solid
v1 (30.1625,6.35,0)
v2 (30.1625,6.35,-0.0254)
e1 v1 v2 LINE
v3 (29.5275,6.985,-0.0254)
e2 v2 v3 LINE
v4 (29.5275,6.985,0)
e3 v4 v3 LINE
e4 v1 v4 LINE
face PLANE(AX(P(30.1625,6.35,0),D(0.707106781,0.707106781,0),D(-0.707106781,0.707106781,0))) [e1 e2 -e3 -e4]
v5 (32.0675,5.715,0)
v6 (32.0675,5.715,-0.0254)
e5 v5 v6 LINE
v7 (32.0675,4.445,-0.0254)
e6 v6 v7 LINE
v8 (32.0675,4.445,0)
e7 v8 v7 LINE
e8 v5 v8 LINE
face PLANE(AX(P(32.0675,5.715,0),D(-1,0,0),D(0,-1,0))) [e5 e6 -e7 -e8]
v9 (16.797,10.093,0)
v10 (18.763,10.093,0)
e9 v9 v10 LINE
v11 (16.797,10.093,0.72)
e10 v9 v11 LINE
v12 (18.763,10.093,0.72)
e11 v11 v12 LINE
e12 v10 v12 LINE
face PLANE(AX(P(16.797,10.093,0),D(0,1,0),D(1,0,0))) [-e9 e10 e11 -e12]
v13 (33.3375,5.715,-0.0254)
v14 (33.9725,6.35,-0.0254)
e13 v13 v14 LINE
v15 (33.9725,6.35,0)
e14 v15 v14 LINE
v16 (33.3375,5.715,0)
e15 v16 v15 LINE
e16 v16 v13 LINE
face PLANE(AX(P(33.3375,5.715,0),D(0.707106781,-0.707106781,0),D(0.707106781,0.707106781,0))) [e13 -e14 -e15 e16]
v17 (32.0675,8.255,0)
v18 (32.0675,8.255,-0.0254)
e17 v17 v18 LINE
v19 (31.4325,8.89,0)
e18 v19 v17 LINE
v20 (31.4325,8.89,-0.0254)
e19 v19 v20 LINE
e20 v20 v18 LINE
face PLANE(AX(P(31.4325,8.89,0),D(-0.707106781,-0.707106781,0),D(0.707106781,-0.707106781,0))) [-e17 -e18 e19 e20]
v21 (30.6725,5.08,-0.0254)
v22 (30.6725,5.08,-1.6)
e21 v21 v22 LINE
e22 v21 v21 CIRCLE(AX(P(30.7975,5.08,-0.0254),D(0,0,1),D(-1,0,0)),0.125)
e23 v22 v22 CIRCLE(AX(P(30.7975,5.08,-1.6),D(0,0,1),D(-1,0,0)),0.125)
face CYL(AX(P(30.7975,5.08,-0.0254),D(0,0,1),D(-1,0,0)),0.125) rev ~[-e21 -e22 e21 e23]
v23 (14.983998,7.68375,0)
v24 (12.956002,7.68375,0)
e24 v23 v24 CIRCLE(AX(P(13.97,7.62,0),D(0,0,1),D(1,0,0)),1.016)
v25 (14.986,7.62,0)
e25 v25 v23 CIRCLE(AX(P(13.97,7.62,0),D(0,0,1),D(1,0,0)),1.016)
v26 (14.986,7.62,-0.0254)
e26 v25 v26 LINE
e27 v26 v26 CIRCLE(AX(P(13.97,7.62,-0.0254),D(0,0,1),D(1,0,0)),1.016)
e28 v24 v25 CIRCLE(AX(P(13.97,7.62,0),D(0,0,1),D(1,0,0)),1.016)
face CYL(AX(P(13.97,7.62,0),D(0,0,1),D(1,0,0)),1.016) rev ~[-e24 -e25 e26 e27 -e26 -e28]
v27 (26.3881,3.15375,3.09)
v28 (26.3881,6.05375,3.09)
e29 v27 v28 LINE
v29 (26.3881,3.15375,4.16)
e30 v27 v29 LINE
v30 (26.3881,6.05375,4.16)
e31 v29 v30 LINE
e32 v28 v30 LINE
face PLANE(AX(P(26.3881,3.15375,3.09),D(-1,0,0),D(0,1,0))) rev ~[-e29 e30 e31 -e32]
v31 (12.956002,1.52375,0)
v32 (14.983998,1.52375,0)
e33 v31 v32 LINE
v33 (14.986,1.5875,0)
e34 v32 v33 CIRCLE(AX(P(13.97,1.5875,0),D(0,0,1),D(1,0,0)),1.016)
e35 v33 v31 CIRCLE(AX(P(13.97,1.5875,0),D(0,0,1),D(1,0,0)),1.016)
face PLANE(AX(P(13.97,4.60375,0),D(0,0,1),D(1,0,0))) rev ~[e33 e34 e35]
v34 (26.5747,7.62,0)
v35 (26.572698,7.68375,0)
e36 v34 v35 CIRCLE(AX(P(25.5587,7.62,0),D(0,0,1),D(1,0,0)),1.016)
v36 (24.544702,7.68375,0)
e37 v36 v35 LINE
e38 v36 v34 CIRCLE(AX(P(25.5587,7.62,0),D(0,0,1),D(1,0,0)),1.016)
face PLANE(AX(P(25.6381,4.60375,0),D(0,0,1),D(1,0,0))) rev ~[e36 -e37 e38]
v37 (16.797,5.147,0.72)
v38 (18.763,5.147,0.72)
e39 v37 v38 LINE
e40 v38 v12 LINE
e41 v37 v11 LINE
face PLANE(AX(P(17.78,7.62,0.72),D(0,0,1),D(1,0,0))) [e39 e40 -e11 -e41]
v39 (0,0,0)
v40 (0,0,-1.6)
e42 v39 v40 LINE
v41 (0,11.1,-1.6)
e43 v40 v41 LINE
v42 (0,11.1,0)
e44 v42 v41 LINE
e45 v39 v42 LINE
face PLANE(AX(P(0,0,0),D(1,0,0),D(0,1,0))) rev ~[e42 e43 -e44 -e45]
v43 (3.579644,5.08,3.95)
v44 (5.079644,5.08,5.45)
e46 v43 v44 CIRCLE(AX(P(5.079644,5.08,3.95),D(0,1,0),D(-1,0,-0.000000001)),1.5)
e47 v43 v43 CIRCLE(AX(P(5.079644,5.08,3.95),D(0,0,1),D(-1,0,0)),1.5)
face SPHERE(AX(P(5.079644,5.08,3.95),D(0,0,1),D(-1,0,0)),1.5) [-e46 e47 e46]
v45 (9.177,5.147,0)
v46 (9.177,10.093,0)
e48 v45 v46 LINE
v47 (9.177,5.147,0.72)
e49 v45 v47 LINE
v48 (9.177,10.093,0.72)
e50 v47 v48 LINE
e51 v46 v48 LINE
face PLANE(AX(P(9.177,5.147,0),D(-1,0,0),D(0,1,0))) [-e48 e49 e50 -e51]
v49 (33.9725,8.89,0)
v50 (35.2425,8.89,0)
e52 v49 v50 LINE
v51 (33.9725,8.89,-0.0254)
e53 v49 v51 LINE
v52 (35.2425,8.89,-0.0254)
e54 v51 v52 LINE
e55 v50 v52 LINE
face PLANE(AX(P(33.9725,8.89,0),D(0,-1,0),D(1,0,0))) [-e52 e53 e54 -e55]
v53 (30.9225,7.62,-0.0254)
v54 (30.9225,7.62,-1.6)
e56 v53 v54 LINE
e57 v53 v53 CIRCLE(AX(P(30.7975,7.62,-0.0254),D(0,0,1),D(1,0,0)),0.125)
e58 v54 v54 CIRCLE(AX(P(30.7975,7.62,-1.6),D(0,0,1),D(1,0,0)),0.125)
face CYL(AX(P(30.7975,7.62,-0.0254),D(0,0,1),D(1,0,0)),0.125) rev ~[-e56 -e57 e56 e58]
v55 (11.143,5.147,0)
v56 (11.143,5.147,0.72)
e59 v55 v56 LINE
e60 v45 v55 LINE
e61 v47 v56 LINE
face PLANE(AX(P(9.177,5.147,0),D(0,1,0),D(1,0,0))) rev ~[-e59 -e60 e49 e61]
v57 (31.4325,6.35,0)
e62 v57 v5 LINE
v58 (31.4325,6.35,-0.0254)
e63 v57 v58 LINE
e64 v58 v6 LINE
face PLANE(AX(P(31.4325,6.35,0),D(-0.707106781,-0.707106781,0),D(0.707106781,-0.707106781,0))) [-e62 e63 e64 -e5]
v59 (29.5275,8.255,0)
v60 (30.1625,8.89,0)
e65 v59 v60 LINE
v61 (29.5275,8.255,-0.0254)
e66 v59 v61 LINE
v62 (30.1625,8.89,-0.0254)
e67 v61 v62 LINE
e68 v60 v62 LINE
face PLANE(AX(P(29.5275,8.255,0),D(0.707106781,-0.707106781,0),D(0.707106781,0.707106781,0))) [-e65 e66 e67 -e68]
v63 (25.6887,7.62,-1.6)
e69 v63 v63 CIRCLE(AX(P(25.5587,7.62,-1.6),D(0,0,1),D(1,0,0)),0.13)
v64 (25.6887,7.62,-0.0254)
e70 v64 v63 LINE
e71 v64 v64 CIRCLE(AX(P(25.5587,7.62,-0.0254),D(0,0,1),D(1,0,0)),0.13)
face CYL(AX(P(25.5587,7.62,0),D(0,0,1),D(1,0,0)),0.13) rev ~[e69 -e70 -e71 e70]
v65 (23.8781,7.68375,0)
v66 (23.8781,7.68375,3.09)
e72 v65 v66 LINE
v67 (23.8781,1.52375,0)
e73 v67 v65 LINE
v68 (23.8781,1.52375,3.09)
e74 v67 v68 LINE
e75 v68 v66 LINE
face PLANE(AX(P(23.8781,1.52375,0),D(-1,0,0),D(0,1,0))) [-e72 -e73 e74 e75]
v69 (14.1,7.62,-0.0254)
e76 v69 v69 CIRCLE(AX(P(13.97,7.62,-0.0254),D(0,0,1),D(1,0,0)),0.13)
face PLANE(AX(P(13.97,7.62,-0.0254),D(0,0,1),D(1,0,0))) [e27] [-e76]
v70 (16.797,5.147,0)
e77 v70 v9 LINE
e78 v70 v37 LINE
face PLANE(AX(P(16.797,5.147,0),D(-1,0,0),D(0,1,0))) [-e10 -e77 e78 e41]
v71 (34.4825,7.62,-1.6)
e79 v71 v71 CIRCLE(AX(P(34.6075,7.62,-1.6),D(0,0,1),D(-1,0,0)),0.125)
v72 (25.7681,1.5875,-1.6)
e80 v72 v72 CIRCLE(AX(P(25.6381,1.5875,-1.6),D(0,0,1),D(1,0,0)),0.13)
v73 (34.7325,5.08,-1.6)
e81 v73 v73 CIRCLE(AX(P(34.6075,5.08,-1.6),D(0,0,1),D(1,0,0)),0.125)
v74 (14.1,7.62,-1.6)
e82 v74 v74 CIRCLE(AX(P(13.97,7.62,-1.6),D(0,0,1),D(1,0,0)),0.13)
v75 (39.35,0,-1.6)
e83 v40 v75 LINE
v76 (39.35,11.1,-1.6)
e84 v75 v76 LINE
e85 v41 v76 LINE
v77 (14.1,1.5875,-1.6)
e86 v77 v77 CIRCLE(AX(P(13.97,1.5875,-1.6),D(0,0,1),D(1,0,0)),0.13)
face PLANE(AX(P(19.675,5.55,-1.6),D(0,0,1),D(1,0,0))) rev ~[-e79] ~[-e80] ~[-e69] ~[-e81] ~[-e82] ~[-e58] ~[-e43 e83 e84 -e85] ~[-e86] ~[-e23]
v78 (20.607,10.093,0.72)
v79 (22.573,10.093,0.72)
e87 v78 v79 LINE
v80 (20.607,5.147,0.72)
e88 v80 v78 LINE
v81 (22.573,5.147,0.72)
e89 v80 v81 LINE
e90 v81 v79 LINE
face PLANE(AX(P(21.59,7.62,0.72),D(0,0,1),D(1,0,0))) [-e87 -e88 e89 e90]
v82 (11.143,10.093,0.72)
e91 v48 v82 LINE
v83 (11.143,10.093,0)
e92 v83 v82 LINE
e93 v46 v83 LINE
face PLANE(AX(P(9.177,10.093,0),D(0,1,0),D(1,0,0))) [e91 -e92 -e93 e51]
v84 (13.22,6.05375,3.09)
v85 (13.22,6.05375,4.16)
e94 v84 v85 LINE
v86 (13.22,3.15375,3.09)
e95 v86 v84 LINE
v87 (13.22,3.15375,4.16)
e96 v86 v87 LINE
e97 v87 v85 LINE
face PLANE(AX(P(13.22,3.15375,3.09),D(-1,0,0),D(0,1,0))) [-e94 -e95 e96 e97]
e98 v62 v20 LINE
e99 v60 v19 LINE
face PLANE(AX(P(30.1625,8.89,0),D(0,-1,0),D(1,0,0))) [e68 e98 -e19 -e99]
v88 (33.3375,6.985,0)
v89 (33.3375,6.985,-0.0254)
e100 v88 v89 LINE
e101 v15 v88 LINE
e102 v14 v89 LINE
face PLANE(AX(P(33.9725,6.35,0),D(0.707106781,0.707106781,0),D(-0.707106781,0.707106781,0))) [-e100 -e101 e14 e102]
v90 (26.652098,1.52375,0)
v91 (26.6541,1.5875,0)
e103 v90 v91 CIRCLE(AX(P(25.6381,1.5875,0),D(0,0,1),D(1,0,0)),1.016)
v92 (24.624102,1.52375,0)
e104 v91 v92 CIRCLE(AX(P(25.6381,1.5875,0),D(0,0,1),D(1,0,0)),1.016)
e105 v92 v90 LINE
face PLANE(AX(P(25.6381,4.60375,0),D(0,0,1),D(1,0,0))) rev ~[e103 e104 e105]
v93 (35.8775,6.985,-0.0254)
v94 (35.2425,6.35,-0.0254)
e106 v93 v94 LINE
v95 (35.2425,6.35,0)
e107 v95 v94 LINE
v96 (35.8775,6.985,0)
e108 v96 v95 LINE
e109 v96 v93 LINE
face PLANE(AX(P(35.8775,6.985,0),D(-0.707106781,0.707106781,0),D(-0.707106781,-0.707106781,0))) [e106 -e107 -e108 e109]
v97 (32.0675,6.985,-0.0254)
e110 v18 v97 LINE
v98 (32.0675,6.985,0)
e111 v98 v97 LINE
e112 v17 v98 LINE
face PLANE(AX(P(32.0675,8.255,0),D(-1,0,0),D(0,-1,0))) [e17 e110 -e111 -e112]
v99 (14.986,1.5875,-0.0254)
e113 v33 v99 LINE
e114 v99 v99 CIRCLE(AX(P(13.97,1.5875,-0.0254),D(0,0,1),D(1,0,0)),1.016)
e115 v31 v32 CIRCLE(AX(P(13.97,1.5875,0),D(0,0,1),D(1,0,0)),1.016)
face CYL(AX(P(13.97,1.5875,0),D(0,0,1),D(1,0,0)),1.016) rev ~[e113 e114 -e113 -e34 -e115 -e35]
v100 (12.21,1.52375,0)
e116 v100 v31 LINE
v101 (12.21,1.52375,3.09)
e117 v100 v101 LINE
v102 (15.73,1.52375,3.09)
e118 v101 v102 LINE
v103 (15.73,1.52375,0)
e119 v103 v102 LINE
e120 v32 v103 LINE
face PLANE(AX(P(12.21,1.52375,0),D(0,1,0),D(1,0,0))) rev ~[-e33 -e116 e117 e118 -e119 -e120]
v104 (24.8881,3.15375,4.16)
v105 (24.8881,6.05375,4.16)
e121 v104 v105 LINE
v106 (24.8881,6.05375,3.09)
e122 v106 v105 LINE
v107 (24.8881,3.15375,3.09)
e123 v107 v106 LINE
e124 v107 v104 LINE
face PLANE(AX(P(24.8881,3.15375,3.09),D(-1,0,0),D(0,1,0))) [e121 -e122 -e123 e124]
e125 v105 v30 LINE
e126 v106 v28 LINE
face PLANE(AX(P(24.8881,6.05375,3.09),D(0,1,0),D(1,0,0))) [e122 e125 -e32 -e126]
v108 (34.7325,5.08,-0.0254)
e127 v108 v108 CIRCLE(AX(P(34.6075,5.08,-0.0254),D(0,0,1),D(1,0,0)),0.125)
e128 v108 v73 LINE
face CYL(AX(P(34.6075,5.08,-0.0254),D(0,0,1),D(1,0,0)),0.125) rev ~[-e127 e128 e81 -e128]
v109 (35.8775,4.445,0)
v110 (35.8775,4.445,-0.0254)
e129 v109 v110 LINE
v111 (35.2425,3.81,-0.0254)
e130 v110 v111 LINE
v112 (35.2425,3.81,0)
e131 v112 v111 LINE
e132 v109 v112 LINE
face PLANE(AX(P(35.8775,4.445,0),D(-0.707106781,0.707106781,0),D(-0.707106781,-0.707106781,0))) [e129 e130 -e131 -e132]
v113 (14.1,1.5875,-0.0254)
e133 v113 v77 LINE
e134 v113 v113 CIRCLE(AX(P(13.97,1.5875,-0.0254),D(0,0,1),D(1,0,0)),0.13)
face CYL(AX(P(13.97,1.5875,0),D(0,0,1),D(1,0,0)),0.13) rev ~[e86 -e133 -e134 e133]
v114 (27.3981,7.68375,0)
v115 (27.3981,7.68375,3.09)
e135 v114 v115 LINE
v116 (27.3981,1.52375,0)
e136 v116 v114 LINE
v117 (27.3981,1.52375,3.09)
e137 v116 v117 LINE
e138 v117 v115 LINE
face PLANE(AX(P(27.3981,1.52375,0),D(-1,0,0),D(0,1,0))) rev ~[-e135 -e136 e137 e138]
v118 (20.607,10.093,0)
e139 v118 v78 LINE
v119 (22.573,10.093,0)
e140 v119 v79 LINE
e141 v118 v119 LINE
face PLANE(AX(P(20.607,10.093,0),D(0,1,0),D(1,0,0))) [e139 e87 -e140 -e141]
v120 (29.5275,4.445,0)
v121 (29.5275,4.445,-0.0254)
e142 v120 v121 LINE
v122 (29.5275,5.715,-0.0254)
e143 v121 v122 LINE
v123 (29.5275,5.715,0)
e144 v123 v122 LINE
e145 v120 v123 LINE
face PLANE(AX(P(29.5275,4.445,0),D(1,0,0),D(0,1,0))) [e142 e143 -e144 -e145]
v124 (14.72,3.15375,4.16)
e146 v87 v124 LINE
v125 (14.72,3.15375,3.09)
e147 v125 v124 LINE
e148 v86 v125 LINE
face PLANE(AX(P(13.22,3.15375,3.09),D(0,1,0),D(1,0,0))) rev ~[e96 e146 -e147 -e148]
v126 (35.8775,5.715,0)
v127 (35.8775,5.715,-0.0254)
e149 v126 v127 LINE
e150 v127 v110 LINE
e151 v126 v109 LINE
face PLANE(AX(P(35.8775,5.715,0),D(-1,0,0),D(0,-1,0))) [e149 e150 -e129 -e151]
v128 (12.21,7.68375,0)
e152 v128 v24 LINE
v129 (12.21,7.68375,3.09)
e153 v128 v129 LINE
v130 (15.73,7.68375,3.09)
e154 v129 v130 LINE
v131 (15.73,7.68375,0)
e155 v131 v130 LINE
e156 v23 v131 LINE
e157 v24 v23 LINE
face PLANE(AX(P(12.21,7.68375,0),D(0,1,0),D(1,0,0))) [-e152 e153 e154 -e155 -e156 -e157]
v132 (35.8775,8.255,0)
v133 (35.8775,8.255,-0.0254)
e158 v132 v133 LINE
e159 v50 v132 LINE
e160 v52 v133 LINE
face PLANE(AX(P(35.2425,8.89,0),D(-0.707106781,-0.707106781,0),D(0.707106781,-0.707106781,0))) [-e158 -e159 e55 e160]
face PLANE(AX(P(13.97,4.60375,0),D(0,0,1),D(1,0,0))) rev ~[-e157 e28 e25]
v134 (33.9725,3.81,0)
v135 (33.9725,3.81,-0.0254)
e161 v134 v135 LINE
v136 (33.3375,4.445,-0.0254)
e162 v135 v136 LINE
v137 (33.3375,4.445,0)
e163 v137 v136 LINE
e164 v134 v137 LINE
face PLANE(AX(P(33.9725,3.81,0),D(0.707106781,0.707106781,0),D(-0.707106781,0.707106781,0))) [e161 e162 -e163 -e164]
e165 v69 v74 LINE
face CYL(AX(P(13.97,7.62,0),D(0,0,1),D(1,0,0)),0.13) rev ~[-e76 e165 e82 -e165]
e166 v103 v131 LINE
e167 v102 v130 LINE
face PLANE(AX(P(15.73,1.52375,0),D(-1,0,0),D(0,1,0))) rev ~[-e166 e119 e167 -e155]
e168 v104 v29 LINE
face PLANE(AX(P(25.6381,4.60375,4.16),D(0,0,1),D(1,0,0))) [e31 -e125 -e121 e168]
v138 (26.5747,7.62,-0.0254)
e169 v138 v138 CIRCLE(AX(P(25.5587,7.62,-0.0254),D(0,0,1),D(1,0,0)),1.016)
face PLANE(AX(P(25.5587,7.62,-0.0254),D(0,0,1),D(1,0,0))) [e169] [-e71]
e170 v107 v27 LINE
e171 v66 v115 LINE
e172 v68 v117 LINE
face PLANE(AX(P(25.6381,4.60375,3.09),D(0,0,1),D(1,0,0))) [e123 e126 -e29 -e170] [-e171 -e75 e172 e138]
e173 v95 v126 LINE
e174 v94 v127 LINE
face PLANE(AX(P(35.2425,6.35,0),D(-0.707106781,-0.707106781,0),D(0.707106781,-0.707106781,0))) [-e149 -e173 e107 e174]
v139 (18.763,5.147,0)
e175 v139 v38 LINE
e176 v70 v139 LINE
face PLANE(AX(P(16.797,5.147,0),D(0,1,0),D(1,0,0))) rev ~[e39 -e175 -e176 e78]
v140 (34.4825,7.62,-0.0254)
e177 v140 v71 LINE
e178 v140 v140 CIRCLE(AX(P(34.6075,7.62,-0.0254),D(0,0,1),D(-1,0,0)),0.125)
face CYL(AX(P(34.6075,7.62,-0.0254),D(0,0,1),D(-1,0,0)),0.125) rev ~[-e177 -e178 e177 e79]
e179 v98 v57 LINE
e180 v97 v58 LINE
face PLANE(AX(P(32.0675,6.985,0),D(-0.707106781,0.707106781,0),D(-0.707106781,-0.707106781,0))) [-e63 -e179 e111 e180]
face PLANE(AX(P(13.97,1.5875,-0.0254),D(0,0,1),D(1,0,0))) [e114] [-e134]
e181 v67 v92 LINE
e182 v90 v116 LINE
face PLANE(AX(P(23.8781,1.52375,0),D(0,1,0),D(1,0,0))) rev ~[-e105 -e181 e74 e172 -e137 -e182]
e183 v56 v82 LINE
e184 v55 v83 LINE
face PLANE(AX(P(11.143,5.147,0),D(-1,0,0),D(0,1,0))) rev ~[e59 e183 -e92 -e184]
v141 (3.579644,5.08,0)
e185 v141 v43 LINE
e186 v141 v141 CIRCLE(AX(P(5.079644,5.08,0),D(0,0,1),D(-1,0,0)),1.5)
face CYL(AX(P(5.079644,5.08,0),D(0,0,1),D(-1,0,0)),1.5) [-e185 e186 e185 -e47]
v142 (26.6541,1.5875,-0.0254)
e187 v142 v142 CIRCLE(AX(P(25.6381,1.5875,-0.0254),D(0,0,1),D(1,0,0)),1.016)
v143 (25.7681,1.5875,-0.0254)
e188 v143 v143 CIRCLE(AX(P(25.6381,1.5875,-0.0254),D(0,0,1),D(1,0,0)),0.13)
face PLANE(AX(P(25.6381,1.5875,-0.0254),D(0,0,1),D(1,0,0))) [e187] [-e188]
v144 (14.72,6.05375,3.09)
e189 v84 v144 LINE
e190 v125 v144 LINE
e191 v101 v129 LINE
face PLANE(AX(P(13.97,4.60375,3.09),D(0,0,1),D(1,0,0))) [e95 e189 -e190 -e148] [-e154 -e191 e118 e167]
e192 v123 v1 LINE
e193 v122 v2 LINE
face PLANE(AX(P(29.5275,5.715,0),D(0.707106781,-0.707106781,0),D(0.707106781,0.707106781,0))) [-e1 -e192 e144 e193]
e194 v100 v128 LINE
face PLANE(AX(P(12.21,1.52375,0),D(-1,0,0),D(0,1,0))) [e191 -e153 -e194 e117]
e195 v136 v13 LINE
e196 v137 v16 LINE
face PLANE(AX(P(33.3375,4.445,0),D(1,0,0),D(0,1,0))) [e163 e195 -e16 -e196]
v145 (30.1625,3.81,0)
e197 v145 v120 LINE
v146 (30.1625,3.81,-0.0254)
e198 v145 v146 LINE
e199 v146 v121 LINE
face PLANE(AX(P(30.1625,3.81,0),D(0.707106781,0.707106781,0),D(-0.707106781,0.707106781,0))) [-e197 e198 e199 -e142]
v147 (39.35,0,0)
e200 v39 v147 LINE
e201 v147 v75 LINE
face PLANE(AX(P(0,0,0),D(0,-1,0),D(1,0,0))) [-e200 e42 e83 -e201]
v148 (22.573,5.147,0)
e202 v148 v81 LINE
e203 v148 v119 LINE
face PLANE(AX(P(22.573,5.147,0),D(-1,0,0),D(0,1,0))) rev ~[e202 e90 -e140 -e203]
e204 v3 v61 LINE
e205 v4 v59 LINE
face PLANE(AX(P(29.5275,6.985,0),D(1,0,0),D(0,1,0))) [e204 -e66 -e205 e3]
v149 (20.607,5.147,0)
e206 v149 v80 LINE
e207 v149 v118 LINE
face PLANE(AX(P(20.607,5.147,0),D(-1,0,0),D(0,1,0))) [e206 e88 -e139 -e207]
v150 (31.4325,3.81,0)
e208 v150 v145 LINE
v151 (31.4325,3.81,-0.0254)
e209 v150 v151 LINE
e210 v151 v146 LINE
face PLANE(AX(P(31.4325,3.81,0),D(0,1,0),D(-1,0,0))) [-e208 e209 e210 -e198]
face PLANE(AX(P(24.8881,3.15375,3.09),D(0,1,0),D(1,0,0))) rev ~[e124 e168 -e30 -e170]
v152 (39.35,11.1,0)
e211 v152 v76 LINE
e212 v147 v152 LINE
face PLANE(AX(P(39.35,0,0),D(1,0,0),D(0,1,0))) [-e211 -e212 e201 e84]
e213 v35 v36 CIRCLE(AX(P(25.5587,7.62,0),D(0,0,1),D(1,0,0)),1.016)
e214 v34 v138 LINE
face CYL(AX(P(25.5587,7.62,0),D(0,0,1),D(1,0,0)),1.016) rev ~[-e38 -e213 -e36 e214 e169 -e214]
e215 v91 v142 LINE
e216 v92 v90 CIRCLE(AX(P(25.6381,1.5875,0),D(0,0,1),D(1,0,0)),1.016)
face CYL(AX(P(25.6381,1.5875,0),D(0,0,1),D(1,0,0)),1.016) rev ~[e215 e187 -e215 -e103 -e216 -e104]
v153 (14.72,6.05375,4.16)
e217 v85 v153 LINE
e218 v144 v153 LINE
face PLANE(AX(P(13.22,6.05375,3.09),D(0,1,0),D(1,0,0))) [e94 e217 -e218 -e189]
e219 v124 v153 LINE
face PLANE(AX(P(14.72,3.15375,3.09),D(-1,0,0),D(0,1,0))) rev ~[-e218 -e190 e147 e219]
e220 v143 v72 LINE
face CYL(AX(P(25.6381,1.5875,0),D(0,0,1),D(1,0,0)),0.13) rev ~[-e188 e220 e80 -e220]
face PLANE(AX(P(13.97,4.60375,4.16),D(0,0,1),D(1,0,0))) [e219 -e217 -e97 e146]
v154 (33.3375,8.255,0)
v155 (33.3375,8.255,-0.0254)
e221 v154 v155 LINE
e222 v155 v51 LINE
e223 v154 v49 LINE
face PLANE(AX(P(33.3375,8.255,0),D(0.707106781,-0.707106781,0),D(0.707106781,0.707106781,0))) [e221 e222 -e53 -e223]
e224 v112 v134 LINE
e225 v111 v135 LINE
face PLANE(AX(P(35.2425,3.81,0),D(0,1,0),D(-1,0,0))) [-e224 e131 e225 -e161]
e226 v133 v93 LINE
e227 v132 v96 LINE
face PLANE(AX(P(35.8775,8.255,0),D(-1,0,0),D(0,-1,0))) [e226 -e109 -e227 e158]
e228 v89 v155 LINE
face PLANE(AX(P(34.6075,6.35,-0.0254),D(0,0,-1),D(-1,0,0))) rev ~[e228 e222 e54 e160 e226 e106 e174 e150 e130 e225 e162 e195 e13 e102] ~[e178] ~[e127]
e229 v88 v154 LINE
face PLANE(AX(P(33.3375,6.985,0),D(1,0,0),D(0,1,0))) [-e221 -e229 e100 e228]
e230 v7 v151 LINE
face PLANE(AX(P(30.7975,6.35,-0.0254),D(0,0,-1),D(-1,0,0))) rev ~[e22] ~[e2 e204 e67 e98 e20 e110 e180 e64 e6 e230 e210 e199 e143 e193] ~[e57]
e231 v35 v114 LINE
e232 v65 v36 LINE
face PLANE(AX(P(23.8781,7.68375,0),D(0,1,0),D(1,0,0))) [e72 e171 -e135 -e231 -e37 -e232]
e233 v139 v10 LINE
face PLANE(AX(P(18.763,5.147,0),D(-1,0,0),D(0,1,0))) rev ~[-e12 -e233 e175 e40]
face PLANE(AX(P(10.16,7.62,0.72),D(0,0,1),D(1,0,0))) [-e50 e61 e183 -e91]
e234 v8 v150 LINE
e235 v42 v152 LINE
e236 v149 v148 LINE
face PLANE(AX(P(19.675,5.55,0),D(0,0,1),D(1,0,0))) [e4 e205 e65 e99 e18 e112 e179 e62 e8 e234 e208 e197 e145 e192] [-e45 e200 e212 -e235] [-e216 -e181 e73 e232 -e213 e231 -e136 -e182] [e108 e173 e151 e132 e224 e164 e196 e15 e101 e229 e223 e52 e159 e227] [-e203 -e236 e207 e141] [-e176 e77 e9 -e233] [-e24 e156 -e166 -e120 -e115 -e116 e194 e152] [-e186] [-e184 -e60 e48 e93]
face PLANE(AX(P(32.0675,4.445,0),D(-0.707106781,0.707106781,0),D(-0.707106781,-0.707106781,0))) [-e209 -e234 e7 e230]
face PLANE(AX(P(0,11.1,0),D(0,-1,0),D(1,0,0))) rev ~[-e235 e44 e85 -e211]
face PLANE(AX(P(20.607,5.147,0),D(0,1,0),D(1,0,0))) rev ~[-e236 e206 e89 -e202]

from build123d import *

# Parameters (mm, degrees)
SKETCH2_W           = 39.35
SKETCH2_H           = 11.1
BOSS_EXTRUDE1_DEPTH = 1.6
SKETCH3_W           = 1.966
SKETCH3_H           = 4.946
BOSS_EXTRUDE2_DEPTH = 0.72
SKETCH4_R           = 1.016
CUT_EXTRUDE1_DEPTH  = 0.0254
SKETCH4_3_R         = 0.13
CUT_EXTRUDE2_DEPTH  = 41.916897487
CUT_EXTRUDE3_DEPTH  = 0.0254
SKETCH6_R           = 0.125
CUT_EXTRUDE4_DEPTH  = 41.915912127
SKETCH8_W           = 3.52
SKETCH8_H           = 6.16
BOSS_EXTRUDE3_DEPTH = 3.09
SKETCH9_W           = 1.5
SKETCH9_H           = 2.9
BOSS_EXTRUDE4_DEPTH = 1.07
LPATTERN1_COUNT     = 2
LPATTERN1_PITCH     = 11.668100108


with BuildPart() as part:
    # Sketch2 → Boss-Extrude1 (new body)
    with BuildSketch(Plane.XY):
        with Locations((19.675, 5.55)):
            Rectangle(SKETCH2_W, SKETCH2_H)
    extrude(amount=-BOSS_EXTRUDE1_DEPTH)

    # Sketch3 → Boss-Extrude2 (add)
    with BuildSketch(Plane.XY):
        with Locations((10.16, 7.62)):
            Rectangle(SKETCH3_W, SKETCH3_H)
        with Locations((17.78, 7.62)):
            Rectangle(SKETCH3_W, SKETCH3_H)
        with Locations((21.59, 7.62)):
            Rectangle(SKETCH3_W, SKETCH3_H)
    extrude(amount=BOSS_EXTRUDE2_DEPTH)

    # Sketch4 → Cut-Extrude1 (cut)
    with BuildSketch(Plane.XY):
        with Locations((13.97, 1.5875)):
            Circle(SKETCH4_R)
        with Locations((13.97, 7.62)):
            Circle(SKETCH4_R)
        with Locations((25.5587, 7.62)):
            Circle(SKETCH4_R)
        with Locations((25.6381, 1.5875)):
            Circle(SKETCH4_R)
    extrude(amount=-CUT_EXTRUDE1_DEPTH, mode=Mode.SUBTRACT)

    # Sketch4<3> → Cut-Extrude2 (cut, through all)
    with BuildSketch(Plane.XY):
        with Locations((13.97, 1.5875)):
            Circle(SKETCH4_3_R)
        with Locations((13.97, 7.62)):
            Circle(SKETCH4_3_R)
        with Locations((25.5587, 7.62)):
            Circle(SKETCH4_3_R)
        with Locations((25.6381, 1.5875)):
            Circle(SKETCH4_3_R)
    extrude(amount=-CUT_EXTRUDE2_DEPTH, mode=Mode.SUBTRACT)

    # Sketch5 → Cut-Extrude3 (cut)
    with BuildSketch(Plane.XY):
        Polygon((29.5275, 6.985), (29.5275, 8.255), (30.1625, 8.89), (31.4325, 8.89), (32.0675, 8.255), (32.0675, 6.985), (31.4325, 6.35), (32.0675, 5.715), (32.0675, 4.445), (31.4325, 3.81), (30.1625, 3.81), (29.5275, 4.445), (29.5275, 5.715), (30.1625, 6.35), align=None)
        Polygon((33.3375, 4.445), (33.3375, 5.715), (33.9725, 6.35), (33.3375, 6.985), (33.3375, 8.255), (33.9725, 8.89), (35.2425, 8.89), (35.8775, 8.255), (35.8775, 6.985), (35.2425, 6.35), (35.8775, 5.715), (35.8775, 4.445), (35.2425, 3.81), (33.9725, 3.81), align=None)
    extrude(amount=-CUT_EXTRUDE3_DEPTH, mode=Mode.SUBTRACT)

    # Sketch6 → Cut-Extrude4 (cut, through all)
    with BuildSketch(Plane.XY.offset(-0.0254)):
        with Locations((30.7975, 7.62)):
            Circle(SKETCH6_R)
        with Locations((30.7975, 5.08)):
            Circle(SKETCH6_R)
        with Locations((34.6075, 5.08)):
            Circle(SKETCH6_R)
        with Locations((34.6075, 7.62)):
            Circle(SKETCH6_R)
    extrude(amount=-CUT_EXTRUDE4_DEPTH, mode=Mode.SUBTRACT)

    # Sketch8 → Boss-Extrude3 (add)
    with BuildSketch(Plane.XY):
        with Locations((13.97, 4.60375)):
            Rectangle(SKETCH8_W, SKETCH8_H)
    boss_extrude3 = extrude(amount=BOSS_EXTRUDE3_DEPTH)

    # Sketch9 → Boss-Extrude4 (add)
    with BuildSketch(Plane.XY.offset(3.09)):
        with Locations((13.97, 4.60375)):
            Rectangle(SKETCH9_W, SKETCH9_H)
    boss_extrude4 = extrude(amount=BOSS_EXTRUDE4_DEPTH)

    # LPattern1: Boss-Extrude3, Boss-Extrude4 ×2
    with Locations(*[(i * LPATTERN1_PITCH, 0, 0) for i in range(1, LPATTERN1_COUNT)]):
        add(boss_extrude3)
        add(boss_extrude4)

    # Sketch11 → Revolve18 (revolve)
    with BuildSketch(Plane.ZY.offset(-5.079644146)):
        with BuildLine():
            Line((0, 5.08), (0, 6.58))
            Line((0, 6.58), (3.95, 6.58))
            ThreePointArc((3.95, 6.58), (5.010660172, 6.140660172), (5.45, 5.08))
            Line((5.45, 5.08), (0, 5.08))
        make_face()
    revolve(axis=Axis((5.079644146, 5.08, 0), (0, 0, 1)))


solid = part.part
